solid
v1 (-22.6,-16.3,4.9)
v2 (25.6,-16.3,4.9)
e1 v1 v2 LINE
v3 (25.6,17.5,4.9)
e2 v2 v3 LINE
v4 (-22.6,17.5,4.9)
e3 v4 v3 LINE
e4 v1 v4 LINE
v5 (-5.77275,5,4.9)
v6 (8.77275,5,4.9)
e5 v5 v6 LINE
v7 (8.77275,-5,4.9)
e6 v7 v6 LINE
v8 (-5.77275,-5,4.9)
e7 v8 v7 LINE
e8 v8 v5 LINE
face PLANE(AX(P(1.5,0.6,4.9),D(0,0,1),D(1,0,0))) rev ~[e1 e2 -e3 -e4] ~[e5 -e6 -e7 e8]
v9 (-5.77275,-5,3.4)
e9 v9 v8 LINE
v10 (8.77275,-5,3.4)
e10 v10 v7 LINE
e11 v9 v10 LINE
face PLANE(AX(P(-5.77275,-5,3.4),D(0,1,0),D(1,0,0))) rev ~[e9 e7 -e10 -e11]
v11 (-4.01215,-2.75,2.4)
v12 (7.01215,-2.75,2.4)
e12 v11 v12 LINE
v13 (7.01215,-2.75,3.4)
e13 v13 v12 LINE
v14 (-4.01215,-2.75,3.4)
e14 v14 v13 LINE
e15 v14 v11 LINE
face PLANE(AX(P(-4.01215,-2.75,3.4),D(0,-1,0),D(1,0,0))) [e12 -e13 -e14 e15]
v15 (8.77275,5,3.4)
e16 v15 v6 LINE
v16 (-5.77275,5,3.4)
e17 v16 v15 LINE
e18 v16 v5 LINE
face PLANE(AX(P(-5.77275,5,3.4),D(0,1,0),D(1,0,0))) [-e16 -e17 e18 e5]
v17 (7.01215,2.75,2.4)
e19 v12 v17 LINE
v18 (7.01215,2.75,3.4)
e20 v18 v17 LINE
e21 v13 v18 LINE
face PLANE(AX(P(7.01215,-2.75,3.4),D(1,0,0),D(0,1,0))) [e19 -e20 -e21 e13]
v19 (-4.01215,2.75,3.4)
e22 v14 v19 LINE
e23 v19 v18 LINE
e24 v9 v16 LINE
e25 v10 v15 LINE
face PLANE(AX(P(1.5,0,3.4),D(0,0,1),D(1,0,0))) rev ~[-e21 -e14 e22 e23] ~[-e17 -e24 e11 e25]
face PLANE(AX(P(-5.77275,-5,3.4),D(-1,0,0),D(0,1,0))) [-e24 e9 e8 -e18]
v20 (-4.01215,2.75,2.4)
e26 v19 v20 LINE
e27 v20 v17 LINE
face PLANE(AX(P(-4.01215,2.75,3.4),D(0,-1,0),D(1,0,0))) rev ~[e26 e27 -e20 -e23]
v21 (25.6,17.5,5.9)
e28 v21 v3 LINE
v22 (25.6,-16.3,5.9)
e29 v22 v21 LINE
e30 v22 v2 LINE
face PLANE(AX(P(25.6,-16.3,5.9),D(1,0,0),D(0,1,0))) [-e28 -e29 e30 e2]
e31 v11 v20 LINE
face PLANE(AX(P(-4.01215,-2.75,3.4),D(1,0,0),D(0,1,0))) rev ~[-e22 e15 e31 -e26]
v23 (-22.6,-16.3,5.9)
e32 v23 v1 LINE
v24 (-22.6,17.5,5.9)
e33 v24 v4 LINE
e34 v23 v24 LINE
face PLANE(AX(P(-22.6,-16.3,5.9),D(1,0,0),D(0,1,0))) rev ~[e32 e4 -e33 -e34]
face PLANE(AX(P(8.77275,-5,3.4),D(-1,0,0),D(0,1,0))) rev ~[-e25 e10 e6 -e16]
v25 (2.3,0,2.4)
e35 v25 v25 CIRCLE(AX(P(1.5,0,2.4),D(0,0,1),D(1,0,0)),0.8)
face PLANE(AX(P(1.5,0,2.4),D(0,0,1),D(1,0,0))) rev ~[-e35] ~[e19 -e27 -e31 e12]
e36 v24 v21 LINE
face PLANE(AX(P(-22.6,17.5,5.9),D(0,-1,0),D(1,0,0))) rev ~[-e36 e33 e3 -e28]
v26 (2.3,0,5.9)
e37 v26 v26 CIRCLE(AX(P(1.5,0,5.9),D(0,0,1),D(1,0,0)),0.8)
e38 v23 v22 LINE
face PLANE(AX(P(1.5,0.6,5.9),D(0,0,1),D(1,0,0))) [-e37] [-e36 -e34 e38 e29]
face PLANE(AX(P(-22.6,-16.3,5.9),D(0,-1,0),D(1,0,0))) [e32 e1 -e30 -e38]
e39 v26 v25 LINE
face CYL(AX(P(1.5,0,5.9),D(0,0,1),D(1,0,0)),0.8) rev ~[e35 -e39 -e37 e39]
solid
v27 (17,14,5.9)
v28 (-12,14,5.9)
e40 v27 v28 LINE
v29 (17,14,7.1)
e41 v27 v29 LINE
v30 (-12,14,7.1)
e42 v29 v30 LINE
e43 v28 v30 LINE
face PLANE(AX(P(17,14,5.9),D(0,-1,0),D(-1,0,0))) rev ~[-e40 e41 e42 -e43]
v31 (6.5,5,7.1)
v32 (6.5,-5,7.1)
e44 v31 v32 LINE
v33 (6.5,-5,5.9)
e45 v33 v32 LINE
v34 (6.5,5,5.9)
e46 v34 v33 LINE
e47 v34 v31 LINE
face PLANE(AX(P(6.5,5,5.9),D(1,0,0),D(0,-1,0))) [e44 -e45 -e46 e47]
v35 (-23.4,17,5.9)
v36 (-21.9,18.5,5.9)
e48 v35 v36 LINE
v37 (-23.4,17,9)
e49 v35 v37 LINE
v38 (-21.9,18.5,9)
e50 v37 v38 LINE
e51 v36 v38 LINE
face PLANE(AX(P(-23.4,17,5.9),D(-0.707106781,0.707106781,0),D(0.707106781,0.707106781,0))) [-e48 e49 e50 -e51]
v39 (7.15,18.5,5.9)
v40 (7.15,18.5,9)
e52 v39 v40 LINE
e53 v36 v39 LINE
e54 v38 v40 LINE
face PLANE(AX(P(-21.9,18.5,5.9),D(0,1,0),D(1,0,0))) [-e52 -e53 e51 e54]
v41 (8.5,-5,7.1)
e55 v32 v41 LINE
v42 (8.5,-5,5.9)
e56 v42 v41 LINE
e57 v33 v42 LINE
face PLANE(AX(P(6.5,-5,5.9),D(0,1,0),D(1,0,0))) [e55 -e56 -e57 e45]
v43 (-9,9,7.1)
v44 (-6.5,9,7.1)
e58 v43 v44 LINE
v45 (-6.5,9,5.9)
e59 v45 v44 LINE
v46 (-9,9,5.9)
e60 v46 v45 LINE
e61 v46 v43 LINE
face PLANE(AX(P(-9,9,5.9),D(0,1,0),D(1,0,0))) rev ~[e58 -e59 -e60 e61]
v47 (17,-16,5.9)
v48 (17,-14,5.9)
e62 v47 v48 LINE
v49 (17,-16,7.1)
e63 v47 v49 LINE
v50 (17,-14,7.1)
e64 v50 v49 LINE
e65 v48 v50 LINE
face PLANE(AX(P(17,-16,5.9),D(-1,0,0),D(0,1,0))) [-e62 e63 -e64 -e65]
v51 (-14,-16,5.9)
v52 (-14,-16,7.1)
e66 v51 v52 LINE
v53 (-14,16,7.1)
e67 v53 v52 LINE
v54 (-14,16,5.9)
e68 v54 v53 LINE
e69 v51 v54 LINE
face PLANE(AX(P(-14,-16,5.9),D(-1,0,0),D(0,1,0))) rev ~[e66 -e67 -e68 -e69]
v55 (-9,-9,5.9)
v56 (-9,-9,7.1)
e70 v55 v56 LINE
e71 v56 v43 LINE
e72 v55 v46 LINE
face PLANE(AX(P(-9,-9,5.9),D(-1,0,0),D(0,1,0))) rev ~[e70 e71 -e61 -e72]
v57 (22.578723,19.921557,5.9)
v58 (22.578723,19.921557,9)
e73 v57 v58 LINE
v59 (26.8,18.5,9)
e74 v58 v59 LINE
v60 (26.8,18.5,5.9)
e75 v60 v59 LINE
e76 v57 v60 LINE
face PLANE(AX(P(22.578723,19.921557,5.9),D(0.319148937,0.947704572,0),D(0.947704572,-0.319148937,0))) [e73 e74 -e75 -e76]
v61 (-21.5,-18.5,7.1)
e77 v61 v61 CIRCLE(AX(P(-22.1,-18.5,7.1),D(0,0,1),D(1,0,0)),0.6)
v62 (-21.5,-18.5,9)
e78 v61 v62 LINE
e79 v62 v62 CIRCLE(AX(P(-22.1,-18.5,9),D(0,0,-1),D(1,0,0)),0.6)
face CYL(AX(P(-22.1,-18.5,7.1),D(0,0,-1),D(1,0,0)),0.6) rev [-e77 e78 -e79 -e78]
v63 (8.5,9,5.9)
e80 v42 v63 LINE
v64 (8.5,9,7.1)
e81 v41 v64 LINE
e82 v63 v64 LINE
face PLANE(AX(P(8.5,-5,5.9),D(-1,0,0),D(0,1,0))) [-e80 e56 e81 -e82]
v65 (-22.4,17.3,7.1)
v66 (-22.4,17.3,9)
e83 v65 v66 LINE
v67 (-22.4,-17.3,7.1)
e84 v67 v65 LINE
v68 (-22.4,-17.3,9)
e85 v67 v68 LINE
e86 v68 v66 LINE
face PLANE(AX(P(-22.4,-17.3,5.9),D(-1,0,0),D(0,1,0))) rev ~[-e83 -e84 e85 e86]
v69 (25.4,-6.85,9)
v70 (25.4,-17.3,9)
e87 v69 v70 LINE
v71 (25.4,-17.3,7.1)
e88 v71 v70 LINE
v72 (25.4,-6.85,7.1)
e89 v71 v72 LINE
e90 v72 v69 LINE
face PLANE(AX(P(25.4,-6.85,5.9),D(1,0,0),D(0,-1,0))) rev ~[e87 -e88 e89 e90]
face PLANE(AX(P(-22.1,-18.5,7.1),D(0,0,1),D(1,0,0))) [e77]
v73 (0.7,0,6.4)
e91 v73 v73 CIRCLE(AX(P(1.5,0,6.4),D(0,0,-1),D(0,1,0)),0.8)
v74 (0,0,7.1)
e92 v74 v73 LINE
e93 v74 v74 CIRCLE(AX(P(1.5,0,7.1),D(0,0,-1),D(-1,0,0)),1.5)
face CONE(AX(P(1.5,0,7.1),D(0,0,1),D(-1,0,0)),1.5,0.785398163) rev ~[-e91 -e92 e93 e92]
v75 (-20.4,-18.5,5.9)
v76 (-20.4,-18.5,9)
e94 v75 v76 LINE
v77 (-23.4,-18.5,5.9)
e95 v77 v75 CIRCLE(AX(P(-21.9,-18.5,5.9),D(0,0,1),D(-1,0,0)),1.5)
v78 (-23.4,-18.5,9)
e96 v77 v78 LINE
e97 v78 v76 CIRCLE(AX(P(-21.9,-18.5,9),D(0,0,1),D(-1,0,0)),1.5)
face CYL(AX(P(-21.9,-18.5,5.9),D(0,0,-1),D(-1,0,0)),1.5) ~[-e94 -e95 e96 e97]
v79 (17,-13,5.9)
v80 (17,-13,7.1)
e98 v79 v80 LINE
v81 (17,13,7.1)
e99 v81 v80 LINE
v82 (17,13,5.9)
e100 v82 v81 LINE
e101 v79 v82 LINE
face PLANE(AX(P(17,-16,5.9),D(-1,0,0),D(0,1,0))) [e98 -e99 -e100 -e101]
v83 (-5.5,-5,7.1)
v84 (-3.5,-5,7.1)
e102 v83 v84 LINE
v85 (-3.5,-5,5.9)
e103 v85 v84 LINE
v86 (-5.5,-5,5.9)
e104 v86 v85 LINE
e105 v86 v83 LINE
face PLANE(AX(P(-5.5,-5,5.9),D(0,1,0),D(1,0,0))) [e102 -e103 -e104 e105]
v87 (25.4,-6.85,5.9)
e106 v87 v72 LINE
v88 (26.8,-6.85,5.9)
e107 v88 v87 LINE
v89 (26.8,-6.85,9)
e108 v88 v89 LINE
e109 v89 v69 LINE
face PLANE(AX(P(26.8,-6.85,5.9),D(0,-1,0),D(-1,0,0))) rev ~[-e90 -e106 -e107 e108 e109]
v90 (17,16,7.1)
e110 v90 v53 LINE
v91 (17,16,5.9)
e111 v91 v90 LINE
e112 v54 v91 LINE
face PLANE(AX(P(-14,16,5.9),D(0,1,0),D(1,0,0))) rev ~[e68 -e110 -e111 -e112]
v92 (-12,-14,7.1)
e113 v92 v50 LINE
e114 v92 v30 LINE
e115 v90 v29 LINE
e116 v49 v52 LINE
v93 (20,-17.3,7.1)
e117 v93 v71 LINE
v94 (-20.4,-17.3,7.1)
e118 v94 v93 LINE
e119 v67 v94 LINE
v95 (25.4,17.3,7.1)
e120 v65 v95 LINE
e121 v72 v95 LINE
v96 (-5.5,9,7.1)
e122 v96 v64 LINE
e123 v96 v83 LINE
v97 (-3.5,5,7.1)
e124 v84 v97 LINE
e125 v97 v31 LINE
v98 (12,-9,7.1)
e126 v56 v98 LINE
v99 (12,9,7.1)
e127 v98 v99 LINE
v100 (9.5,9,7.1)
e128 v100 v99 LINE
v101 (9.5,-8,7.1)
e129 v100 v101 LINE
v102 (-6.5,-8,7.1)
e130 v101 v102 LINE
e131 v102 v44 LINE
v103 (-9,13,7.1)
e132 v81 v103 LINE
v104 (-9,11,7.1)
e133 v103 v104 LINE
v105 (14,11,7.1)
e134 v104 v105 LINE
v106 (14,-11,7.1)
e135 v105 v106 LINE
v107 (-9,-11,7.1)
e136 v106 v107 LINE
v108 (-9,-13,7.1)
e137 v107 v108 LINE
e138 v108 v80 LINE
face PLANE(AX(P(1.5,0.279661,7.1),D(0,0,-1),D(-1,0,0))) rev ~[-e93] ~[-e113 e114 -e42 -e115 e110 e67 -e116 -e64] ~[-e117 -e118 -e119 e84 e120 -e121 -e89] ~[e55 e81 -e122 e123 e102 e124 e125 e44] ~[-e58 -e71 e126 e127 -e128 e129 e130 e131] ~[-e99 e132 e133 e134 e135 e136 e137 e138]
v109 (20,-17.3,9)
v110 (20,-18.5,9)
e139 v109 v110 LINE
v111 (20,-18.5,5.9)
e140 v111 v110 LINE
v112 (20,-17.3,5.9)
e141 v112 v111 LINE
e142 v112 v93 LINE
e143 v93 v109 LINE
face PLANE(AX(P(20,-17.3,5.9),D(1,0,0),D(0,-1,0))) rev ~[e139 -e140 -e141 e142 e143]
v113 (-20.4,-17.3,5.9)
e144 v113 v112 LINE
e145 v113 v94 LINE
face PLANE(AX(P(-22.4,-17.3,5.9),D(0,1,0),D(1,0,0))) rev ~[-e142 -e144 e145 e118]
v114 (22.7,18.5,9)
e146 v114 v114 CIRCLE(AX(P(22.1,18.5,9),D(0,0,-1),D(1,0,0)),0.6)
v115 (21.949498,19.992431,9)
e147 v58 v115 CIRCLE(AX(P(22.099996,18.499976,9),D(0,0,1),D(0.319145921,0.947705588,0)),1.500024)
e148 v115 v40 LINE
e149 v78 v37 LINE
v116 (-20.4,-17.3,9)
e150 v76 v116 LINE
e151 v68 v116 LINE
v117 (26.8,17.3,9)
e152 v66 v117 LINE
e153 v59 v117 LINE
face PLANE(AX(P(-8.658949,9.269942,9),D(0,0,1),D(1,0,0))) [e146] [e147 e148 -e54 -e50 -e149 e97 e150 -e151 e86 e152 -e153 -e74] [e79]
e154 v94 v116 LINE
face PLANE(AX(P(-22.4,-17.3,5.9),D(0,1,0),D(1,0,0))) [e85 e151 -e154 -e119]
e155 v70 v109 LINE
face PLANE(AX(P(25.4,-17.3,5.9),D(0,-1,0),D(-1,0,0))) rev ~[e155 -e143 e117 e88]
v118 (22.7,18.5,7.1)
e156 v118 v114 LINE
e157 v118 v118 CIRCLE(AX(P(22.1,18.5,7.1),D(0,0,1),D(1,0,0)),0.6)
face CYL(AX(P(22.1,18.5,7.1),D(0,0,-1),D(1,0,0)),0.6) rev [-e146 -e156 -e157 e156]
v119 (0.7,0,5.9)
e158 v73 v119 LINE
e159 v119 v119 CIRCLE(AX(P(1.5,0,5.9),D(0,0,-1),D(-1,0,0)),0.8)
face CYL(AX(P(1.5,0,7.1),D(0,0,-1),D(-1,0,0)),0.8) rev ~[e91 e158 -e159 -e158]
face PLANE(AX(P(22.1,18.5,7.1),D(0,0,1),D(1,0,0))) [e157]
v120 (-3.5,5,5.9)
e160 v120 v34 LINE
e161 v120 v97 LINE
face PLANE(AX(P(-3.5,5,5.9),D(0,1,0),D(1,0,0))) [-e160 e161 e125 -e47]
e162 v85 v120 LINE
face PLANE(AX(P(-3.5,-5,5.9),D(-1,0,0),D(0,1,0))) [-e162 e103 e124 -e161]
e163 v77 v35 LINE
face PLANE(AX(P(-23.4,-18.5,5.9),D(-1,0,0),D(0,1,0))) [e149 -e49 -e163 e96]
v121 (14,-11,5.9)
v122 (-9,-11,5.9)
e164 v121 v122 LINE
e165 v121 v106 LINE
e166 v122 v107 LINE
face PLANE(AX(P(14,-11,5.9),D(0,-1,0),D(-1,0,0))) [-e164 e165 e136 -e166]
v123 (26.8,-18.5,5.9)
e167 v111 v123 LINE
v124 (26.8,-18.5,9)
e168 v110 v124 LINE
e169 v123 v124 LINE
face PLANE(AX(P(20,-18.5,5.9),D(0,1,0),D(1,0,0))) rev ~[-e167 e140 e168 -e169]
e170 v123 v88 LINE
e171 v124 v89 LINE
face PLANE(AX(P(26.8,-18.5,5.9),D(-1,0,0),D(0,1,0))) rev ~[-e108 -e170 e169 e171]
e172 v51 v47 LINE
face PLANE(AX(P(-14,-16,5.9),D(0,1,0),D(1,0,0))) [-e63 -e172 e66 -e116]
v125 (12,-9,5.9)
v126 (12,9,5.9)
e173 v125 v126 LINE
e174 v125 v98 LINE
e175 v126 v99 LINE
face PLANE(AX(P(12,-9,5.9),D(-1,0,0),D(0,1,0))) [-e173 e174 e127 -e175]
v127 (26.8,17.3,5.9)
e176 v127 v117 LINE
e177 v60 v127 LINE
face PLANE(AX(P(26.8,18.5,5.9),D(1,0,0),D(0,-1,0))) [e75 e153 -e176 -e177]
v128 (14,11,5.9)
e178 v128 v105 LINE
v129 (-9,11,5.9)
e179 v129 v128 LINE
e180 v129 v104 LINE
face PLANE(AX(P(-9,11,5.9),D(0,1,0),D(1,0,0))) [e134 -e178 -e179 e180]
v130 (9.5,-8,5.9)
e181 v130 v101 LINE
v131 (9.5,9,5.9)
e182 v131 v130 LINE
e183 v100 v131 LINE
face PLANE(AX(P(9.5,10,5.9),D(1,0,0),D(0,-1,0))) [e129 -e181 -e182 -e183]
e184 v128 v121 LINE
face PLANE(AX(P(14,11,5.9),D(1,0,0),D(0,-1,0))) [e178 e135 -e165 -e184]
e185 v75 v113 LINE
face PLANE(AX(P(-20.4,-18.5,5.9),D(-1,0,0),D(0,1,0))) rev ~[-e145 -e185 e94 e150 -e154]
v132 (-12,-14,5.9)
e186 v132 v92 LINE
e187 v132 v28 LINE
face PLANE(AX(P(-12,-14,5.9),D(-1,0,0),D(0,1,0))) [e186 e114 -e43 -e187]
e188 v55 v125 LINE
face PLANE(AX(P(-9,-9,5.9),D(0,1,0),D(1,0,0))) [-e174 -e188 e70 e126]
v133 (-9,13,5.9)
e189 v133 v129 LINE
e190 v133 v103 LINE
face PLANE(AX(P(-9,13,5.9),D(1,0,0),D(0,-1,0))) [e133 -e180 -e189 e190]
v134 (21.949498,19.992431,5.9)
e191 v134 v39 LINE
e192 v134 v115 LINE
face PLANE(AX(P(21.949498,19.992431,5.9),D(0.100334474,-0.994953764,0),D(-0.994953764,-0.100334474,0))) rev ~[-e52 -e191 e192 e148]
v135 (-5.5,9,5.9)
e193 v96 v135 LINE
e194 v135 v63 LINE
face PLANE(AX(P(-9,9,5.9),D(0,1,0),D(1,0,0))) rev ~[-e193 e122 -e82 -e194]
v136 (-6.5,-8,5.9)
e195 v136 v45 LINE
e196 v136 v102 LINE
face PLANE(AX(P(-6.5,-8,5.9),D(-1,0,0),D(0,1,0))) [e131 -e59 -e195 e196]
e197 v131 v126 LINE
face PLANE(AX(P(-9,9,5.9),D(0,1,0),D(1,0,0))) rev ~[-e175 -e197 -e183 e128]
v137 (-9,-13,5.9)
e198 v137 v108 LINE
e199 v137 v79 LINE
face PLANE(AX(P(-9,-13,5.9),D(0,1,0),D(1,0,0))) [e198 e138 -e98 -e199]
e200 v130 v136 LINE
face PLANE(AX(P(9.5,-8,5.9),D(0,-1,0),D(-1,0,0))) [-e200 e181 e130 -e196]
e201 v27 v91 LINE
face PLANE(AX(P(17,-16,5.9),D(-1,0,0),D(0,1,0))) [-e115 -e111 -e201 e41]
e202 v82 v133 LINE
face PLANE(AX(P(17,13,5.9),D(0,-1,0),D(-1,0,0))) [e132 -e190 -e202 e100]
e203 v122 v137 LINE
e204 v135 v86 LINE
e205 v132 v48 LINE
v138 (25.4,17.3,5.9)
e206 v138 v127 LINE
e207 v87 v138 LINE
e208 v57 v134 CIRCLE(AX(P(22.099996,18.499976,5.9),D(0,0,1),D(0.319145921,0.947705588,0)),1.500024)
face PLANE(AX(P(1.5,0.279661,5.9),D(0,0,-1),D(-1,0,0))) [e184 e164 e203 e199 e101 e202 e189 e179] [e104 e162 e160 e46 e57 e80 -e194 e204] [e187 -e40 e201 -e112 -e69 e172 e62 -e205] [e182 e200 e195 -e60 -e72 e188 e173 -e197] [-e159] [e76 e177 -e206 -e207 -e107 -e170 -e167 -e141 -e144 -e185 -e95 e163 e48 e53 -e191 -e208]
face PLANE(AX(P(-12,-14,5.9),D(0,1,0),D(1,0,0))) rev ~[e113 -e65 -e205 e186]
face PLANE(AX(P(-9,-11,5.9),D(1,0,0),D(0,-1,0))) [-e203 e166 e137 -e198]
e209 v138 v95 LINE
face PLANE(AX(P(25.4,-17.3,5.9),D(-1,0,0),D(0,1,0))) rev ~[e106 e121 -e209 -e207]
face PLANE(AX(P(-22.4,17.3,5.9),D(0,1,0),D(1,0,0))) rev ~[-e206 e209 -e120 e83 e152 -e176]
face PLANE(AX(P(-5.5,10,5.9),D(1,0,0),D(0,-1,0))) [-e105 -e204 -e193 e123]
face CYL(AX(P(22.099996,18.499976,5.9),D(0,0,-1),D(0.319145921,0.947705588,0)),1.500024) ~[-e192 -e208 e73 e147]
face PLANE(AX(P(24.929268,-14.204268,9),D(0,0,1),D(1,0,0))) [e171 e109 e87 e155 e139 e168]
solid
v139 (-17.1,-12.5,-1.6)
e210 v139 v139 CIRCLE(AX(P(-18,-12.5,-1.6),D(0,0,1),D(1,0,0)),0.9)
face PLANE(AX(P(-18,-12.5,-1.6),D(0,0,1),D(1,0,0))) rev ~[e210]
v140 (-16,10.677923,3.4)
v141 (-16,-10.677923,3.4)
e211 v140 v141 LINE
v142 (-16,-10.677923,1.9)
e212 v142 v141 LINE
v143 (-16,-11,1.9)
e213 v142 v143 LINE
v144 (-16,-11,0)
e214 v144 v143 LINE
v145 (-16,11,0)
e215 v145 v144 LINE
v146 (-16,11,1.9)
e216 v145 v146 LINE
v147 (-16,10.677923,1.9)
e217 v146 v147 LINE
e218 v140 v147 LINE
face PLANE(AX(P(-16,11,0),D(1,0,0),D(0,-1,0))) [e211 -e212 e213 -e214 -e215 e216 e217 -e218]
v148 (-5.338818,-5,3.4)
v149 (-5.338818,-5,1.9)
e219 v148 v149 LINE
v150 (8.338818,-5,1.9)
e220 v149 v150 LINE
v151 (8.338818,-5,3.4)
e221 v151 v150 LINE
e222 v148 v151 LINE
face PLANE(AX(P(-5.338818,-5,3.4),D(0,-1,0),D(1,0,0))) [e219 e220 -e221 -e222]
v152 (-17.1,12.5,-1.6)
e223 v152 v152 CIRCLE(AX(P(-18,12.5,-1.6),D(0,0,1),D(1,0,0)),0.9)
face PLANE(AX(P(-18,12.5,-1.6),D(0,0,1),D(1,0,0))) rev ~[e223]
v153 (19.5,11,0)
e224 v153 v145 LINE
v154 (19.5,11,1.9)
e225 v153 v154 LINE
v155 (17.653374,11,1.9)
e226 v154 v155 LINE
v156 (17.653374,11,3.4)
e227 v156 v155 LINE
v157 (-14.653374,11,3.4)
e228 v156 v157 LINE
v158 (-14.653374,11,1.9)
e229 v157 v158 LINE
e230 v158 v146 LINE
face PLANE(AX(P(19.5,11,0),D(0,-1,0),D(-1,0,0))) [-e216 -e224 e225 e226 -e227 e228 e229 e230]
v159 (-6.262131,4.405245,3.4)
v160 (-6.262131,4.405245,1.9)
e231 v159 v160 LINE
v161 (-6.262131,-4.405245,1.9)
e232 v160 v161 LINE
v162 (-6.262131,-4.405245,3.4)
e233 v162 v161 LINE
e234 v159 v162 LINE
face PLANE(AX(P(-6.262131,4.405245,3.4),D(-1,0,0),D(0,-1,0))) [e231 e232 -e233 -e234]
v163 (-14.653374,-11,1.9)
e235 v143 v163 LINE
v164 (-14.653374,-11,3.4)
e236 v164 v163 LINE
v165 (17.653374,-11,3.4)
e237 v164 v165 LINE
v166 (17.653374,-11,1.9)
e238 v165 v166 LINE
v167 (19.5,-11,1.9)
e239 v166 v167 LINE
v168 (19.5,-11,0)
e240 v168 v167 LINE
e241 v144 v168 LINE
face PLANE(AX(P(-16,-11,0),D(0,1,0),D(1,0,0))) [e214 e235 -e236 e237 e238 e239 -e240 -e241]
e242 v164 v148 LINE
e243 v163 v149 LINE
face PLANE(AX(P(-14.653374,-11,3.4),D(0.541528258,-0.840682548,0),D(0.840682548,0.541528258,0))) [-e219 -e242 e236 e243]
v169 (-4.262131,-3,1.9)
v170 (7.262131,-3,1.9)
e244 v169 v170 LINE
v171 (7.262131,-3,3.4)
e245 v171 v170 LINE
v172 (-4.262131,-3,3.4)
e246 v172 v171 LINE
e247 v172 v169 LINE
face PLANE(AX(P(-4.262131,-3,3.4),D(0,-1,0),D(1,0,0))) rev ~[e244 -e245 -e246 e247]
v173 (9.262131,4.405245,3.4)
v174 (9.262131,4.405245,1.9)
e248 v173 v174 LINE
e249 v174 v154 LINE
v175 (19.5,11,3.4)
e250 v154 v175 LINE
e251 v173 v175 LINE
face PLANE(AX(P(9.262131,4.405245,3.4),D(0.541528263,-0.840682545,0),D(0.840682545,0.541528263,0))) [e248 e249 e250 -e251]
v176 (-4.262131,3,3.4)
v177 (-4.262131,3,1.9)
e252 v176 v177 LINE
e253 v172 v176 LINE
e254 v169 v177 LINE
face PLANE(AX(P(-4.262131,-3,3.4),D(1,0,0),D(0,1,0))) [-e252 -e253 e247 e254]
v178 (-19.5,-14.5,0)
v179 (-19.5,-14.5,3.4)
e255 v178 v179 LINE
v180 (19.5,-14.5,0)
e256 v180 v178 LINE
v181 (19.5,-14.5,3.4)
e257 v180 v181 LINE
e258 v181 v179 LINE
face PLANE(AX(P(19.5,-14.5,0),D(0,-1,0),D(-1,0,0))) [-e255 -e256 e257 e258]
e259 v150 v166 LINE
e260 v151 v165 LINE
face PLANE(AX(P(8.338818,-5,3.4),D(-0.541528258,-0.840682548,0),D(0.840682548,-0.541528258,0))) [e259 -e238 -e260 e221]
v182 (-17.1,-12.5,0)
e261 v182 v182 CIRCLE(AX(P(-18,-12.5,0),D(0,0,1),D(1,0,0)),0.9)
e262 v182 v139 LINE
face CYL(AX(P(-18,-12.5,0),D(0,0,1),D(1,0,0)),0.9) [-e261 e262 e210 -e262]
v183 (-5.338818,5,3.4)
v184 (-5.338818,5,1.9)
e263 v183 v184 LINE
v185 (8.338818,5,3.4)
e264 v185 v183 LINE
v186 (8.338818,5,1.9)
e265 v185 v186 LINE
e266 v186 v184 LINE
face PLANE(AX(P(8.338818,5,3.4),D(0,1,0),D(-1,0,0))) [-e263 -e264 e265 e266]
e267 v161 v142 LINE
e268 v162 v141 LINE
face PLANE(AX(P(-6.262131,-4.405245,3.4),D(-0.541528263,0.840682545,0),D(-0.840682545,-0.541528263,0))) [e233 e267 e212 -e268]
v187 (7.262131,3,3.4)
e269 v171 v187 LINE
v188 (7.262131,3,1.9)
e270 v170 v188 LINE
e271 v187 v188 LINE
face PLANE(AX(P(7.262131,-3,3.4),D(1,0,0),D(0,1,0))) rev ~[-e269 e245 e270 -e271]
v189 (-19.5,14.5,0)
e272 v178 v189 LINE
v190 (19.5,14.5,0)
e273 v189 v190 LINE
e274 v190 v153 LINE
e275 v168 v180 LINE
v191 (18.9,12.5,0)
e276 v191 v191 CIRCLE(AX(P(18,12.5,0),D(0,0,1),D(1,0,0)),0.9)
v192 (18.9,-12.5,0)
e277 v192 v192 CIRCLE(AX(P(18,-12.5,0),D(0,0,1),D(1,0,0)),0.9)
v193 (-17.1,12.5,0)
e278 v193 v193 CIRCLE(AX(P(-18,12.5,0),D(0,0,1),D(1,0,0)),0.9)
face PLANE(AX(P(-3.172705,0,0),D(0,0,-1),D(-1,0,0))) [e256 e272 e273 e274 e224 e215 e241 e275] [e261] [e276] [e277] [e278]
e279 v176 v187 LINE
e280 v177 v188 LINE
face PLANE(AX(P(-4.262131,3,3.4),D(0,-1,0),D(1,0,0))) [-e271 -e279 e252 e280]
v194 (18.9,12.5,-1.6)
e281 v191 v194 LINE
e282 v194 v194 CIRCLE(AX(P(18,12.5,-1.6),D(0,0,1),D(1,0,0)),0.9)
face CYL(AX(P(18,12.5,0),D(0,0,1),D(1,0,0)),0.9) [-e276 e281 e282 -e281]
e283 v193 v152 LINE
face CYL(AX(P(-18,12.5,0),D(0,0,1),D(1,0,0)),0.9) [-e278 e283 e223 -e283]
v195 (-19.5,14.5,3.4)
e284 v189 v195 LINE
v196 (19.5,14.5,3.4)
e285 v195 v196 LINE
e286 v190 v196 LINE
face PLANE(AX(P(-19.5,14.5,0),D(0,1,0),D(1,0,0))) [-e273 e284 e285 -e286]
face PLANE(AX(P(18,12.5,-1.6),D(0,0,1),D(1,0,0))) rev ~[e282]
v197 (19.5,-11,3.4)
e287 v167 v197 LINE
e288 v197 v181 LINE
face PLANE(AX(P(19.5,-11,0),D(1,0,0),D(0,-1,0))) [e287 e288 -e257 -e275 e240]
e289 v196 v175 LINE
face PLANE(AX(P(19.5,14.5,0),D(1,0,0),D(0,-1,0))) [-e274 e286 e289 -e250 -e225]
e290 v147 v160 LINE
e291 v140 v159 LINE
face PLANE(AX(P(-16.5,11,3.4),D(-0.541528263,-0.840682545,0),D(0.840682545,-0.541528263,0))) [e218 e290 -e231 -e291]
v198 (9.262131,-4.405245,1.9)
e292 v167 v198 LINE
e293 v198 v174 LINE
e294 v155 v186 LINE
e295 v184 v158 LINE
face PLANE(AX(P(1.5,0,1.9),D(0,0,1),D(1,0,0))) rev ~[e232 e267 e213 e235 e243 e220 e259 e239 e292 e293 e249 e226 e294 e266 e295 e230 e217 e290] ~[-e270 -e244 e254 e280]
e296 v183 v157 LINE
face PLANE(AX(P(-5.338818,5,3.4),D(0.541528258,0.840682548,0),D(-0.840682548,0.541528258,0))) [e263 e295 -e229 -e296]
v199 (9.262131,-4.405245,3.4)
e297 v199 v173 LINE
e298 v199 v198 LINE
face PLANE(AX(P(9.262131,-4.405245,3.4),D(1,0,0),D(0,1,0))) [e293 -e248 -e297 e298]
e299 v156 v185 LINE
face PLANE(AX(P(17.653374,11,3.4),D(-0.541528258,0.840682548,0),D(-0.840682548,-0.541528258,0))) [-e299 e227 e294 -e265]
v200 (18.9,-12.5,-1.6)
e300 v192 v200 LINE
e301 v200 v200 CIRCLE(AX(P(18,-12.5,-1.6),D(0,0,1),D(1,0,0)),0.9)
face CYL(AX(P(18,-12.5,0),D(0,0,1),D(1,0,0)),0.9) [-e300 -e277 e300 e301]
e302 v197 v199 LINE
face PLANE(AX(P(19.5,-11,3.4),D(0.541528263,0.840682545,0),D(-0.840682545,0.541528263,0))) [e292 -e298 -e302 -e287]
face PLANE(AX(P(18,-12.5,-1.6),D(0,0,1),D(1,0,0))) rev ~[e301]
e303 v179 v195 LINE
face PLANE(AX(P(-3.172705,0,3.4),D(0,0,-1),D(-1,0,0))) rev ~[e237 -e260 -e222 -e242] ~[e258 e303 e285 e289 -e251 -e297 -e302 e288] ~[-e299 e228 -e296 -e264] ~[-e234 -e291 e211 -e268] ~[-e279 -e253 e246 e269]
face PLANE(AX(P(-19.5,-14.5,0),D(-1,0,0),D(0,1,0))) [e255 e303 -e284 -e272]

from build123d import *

# Parameters (mm, degrees)
SKETCH007_W      = 47.8
SKETCH007_H      = 34.6
PAD005_DEPTH     = 1.2
PAD006_DEPTH     = 3.1
SKETCH005_W      = 31
SKETCH005_H      = 32
POCKET002_DEPTH  = 5
SKETCH023_W      = 21
SKETCH023_H      = 18
PAD_DEPTH        = 1.2
PAD015_DEPTH     = 1.2
SKETCH013_R      = 0.6
POCKET_DEPTH     = 5
HOLE_D           = 1.6
HOLE_DEPTH       = 25
HOLE_CSINK_D     = 3
HOLE_CSINK_ANGLE = 90
PAD019_DEPTH     = 3.4
SKETCH_R         = 0.9
PAD020_DEPTH     = 1.6
SKETCH037_W      = 11.524262
SKETCH037_H      = 6
PAD021_DEPTH     = 1.5
SKETCH036_W      = 11.0243
SKETCH036_H      = 5.5
PAD022_DEPTH     = 1
SKETCH038_W      = 14.5455
SKETCH038_H      = 10
PAD023_DEPTH     = 1.8
SKETCH039_W      = 48.2
SKETCH039_H      = 33.8
PAD024_DEPTH     = 1
SKETCH040_R      = 0.8
POCKET007_DEPTH  = 5


with BuildPart() as plastic_tek1_display_interface_top_part:
    # Sketch007 (on DatumPlane) → Pad005 (new body)
    with BuildSketch(Plane.XY.offset(5.9)):
        with Locations((1.5, 0)):
            Rectangle(SKETCH007_W, SKETCH007_H)
    extrude(amount=PAD005_DEPTH)

    # Sketch008 (on DatumPlane) → Pad006 (join)
    with BuildSketch(Plane.XY.offset(5.9)):
        with BuildLine():
            Line((-22.4, -17.3), (-22.4, 17.3))
            Line((-22.4, 17.3), (-17.7, 17.3))
            Line((-17.7, 17.3), (-17.3, 17.3))
            Line((-17.3, 17.3), (17.3, 17.3))
            Line((17.3, 17.3), (17.7, 17.3))
            Line((17.7, 17.3), (25.4, 17.3))
            Line((25.4, 17.3), (26.8, 17.3))
            Line((26.8, 18.5), (26.8, 17.3))
            Line((22.578723, 19.921557), (26.8, 18.5))
            ThreePointArc((22.578723, 19.921557), (22.267893, 19.990574), (21.949498, 19.992431))
            Line((21.949498, 19.992431), (7.15, 18.5))
            Line((-21.9, 18.5), (7.15, 18.5))
            Line((-23.4, 17), (-21.9, 18.5))
            Line((-23.4, -18.5), (-23.4, 17))
            ThreePointArc((-23.4, -18.5), (-21.9, -20), (-20.4, -18.5))
            Line((-20.4, -18.5), (-20.4, -17.3))
            Line((-21.3, -17.3), (-20.4, -17.3))
            Line((-21.7, -17.3), (-21.3, -17.3))
            Line((-22.4, -17.3), (-21.7, -17.3))
        make_face()
        Polygon((20, -18.5), (26.8, -18.5), (26.8, -6.85), (25.4, -6.85), (25.4, -17.3), (21.7, -17.3), (21.3, -17.3), (20, -17.3), align=None)
    extrude(amount=PAD006_DEPTH)

    # Sketch005 (on DatumPlane) → Pocket002 (cut)
    with BuildSketch(Plane.XY.offset(5.9)):
        with Locations((1.5, 0)):
            Rectangle(SKETCH005_W, SKETCH005_H)
    extrude(amount=POCKET002_DEPTH, mode=Mode.SUBTRACT)

    # Sketch023 (on DatumPlane) → Pad (join)
    with BuildSketch(Plane.XY.offset(5.9)):
        Polygon((-12, -14), (-12, 14), (-9, 14), (17, 14), (17, 13), (-9, 13), (-9, 11), (14, 11), (14, -11), (-9, -11), (-9, -13), (17, -13), (17, -14), (-9, -14), align=None)
        with Locations((1.5, 0)):
            Rectangle(SKETCH023_W, SKETCH023_H, mode=Mode.SUBTRACT)
    extrude(amount=PAD_DEPTH)

    # Sketch020 (on DatumPlane) → Pad015 (join)
    with BuildSketch(Plane.XY.offset(5.9)):
        Polygon((-3.5, -5), (-3.5, 5), (6.5, 5), (6.5, -5), (8.5, -5), (8.5, 10), (9.5, 10), (9.5, -8), (-6.5, -8), (-6.5, 10), (-5.5, 10), (-5.5, -5), align=None)
    extrude(amount=PAD015_DEPTH)

    # Sketch013 (on DatumPlane) → Pocket (cut)
    with BuildSketch(Plane.XY.offset(7.1)):
        with Locations((22.1, 18.5)):
            Circle(SKETCH013_R)
        with Locations((-22.1, -18.5)):
            Circle(SKETCH013_R)
    extrude(amount=POCKET_DEPTH, mode=Mode.SUBTRACT)

    # Hole
    with Locations(Plane.XY.offset(7.1)):
        with Locations((1.5, 0)):
            CounterSinkHole(HOLE_D / 2, HOLE_CSINK_D / 2, depth=HOLE_DEPTH, counter_sink_angle=HOLE_CSINK_ANGLE)


with BuildPart() as body002:
    # Sketch029 → Pad019 (new body)
    with BuildSketch(Plane.XY):
        Polygon((-19.5, -14.5), (-19.5, 14.5), (19.5, 14.5), (19.5, 11), (-16, 11), (-16, -11), (19.5, -11), (19.5, -14.5), align=None)
    extrude(amount=PAD019_DEPTH)

    # Sketch → Pad020 (join)
    with BuildSketch(Plane.XY):
        with Locations((-18, 12.5)):
            Circle(SKETCH_R)
        with Locations((-18, -12.5)):
            Circle(SKETCH_R)
        with Locations((18, -12.5)):
            Circle(SKETCH_R)
        with Locations((18, 12.5)):
            Circle(SKETCH_R)
    extrude(amount=-PAD020_DEPTH)

    # Sketch037 (on DatumPlane) → Pad021 (join)
    with BuildSketch(Plane.XY.offset(3.4)):
        Polygon((-16.5, 11), (-6.262131, 4.405245), (-6.262131, -4.405245), (-16.5, -11), (-14.653374, -11), (-5.338818, -5), (8.338818, -5), (17.653374, -11), (19.5, -11), (9.262131, -4.405245), (9.262131, 4.405245), (19.5, 11), (17.653374, 11), (8.338818, 5), (-5.338818, 5), (-14.653374, 11), align=None)
        with Locations((1.5, 0)):
            Rectangle(SKETCH037_W, SKETCH037_H, mode=Mode.SUBTRACT)
    extrude(amount=-PAD021_DEPTH)


with BuildPart() as body:
    # Sketch036 (on DatumPlane) → Pad022 (new body)
    with BuildSketch(Plane.XY.offset(3.4)):
        with Locations((1.5, 0)):
            Rectangle(SKETCH036_W, SKETCH036_H)
    extrude(amount=-PAD022_DEPTH)

    # Sketch038 (on DatumPlane) → Pad023 (join)
    with BuildSketch(Plane.XY.offset(3.4)):
        with Locations((1.5, 0)):
            Rectangle(SKETCH038_W, SKETCH038_H)
    extrude(amount=PAD023_DEPTH)

    # Sketch039 (on DatumPlane) → Pad024 (join)
    with BuildSketch(Plane.XY.offset(5.9)):
        with Locations((1.5, 0.6)):
            Rectangle(SKETCH039_W, SKETCH039_H)
    extrude(amount=-PAD024_DEPTH)

    # Sketch040 (on DatumPlane) → Pocket007 (cut)
    with BuildSketch(Plane.XY.offset(5.9)):
        with Locations((1.5, 0)):
            Circle(SKETCH040_R)
    extrude(amount=-POCKET007_DEPTH, mode=Mode.SUBTRACT)


solid = Compound([plastic_tek1_display_interface_top_part.part, body002.part, body.part])
